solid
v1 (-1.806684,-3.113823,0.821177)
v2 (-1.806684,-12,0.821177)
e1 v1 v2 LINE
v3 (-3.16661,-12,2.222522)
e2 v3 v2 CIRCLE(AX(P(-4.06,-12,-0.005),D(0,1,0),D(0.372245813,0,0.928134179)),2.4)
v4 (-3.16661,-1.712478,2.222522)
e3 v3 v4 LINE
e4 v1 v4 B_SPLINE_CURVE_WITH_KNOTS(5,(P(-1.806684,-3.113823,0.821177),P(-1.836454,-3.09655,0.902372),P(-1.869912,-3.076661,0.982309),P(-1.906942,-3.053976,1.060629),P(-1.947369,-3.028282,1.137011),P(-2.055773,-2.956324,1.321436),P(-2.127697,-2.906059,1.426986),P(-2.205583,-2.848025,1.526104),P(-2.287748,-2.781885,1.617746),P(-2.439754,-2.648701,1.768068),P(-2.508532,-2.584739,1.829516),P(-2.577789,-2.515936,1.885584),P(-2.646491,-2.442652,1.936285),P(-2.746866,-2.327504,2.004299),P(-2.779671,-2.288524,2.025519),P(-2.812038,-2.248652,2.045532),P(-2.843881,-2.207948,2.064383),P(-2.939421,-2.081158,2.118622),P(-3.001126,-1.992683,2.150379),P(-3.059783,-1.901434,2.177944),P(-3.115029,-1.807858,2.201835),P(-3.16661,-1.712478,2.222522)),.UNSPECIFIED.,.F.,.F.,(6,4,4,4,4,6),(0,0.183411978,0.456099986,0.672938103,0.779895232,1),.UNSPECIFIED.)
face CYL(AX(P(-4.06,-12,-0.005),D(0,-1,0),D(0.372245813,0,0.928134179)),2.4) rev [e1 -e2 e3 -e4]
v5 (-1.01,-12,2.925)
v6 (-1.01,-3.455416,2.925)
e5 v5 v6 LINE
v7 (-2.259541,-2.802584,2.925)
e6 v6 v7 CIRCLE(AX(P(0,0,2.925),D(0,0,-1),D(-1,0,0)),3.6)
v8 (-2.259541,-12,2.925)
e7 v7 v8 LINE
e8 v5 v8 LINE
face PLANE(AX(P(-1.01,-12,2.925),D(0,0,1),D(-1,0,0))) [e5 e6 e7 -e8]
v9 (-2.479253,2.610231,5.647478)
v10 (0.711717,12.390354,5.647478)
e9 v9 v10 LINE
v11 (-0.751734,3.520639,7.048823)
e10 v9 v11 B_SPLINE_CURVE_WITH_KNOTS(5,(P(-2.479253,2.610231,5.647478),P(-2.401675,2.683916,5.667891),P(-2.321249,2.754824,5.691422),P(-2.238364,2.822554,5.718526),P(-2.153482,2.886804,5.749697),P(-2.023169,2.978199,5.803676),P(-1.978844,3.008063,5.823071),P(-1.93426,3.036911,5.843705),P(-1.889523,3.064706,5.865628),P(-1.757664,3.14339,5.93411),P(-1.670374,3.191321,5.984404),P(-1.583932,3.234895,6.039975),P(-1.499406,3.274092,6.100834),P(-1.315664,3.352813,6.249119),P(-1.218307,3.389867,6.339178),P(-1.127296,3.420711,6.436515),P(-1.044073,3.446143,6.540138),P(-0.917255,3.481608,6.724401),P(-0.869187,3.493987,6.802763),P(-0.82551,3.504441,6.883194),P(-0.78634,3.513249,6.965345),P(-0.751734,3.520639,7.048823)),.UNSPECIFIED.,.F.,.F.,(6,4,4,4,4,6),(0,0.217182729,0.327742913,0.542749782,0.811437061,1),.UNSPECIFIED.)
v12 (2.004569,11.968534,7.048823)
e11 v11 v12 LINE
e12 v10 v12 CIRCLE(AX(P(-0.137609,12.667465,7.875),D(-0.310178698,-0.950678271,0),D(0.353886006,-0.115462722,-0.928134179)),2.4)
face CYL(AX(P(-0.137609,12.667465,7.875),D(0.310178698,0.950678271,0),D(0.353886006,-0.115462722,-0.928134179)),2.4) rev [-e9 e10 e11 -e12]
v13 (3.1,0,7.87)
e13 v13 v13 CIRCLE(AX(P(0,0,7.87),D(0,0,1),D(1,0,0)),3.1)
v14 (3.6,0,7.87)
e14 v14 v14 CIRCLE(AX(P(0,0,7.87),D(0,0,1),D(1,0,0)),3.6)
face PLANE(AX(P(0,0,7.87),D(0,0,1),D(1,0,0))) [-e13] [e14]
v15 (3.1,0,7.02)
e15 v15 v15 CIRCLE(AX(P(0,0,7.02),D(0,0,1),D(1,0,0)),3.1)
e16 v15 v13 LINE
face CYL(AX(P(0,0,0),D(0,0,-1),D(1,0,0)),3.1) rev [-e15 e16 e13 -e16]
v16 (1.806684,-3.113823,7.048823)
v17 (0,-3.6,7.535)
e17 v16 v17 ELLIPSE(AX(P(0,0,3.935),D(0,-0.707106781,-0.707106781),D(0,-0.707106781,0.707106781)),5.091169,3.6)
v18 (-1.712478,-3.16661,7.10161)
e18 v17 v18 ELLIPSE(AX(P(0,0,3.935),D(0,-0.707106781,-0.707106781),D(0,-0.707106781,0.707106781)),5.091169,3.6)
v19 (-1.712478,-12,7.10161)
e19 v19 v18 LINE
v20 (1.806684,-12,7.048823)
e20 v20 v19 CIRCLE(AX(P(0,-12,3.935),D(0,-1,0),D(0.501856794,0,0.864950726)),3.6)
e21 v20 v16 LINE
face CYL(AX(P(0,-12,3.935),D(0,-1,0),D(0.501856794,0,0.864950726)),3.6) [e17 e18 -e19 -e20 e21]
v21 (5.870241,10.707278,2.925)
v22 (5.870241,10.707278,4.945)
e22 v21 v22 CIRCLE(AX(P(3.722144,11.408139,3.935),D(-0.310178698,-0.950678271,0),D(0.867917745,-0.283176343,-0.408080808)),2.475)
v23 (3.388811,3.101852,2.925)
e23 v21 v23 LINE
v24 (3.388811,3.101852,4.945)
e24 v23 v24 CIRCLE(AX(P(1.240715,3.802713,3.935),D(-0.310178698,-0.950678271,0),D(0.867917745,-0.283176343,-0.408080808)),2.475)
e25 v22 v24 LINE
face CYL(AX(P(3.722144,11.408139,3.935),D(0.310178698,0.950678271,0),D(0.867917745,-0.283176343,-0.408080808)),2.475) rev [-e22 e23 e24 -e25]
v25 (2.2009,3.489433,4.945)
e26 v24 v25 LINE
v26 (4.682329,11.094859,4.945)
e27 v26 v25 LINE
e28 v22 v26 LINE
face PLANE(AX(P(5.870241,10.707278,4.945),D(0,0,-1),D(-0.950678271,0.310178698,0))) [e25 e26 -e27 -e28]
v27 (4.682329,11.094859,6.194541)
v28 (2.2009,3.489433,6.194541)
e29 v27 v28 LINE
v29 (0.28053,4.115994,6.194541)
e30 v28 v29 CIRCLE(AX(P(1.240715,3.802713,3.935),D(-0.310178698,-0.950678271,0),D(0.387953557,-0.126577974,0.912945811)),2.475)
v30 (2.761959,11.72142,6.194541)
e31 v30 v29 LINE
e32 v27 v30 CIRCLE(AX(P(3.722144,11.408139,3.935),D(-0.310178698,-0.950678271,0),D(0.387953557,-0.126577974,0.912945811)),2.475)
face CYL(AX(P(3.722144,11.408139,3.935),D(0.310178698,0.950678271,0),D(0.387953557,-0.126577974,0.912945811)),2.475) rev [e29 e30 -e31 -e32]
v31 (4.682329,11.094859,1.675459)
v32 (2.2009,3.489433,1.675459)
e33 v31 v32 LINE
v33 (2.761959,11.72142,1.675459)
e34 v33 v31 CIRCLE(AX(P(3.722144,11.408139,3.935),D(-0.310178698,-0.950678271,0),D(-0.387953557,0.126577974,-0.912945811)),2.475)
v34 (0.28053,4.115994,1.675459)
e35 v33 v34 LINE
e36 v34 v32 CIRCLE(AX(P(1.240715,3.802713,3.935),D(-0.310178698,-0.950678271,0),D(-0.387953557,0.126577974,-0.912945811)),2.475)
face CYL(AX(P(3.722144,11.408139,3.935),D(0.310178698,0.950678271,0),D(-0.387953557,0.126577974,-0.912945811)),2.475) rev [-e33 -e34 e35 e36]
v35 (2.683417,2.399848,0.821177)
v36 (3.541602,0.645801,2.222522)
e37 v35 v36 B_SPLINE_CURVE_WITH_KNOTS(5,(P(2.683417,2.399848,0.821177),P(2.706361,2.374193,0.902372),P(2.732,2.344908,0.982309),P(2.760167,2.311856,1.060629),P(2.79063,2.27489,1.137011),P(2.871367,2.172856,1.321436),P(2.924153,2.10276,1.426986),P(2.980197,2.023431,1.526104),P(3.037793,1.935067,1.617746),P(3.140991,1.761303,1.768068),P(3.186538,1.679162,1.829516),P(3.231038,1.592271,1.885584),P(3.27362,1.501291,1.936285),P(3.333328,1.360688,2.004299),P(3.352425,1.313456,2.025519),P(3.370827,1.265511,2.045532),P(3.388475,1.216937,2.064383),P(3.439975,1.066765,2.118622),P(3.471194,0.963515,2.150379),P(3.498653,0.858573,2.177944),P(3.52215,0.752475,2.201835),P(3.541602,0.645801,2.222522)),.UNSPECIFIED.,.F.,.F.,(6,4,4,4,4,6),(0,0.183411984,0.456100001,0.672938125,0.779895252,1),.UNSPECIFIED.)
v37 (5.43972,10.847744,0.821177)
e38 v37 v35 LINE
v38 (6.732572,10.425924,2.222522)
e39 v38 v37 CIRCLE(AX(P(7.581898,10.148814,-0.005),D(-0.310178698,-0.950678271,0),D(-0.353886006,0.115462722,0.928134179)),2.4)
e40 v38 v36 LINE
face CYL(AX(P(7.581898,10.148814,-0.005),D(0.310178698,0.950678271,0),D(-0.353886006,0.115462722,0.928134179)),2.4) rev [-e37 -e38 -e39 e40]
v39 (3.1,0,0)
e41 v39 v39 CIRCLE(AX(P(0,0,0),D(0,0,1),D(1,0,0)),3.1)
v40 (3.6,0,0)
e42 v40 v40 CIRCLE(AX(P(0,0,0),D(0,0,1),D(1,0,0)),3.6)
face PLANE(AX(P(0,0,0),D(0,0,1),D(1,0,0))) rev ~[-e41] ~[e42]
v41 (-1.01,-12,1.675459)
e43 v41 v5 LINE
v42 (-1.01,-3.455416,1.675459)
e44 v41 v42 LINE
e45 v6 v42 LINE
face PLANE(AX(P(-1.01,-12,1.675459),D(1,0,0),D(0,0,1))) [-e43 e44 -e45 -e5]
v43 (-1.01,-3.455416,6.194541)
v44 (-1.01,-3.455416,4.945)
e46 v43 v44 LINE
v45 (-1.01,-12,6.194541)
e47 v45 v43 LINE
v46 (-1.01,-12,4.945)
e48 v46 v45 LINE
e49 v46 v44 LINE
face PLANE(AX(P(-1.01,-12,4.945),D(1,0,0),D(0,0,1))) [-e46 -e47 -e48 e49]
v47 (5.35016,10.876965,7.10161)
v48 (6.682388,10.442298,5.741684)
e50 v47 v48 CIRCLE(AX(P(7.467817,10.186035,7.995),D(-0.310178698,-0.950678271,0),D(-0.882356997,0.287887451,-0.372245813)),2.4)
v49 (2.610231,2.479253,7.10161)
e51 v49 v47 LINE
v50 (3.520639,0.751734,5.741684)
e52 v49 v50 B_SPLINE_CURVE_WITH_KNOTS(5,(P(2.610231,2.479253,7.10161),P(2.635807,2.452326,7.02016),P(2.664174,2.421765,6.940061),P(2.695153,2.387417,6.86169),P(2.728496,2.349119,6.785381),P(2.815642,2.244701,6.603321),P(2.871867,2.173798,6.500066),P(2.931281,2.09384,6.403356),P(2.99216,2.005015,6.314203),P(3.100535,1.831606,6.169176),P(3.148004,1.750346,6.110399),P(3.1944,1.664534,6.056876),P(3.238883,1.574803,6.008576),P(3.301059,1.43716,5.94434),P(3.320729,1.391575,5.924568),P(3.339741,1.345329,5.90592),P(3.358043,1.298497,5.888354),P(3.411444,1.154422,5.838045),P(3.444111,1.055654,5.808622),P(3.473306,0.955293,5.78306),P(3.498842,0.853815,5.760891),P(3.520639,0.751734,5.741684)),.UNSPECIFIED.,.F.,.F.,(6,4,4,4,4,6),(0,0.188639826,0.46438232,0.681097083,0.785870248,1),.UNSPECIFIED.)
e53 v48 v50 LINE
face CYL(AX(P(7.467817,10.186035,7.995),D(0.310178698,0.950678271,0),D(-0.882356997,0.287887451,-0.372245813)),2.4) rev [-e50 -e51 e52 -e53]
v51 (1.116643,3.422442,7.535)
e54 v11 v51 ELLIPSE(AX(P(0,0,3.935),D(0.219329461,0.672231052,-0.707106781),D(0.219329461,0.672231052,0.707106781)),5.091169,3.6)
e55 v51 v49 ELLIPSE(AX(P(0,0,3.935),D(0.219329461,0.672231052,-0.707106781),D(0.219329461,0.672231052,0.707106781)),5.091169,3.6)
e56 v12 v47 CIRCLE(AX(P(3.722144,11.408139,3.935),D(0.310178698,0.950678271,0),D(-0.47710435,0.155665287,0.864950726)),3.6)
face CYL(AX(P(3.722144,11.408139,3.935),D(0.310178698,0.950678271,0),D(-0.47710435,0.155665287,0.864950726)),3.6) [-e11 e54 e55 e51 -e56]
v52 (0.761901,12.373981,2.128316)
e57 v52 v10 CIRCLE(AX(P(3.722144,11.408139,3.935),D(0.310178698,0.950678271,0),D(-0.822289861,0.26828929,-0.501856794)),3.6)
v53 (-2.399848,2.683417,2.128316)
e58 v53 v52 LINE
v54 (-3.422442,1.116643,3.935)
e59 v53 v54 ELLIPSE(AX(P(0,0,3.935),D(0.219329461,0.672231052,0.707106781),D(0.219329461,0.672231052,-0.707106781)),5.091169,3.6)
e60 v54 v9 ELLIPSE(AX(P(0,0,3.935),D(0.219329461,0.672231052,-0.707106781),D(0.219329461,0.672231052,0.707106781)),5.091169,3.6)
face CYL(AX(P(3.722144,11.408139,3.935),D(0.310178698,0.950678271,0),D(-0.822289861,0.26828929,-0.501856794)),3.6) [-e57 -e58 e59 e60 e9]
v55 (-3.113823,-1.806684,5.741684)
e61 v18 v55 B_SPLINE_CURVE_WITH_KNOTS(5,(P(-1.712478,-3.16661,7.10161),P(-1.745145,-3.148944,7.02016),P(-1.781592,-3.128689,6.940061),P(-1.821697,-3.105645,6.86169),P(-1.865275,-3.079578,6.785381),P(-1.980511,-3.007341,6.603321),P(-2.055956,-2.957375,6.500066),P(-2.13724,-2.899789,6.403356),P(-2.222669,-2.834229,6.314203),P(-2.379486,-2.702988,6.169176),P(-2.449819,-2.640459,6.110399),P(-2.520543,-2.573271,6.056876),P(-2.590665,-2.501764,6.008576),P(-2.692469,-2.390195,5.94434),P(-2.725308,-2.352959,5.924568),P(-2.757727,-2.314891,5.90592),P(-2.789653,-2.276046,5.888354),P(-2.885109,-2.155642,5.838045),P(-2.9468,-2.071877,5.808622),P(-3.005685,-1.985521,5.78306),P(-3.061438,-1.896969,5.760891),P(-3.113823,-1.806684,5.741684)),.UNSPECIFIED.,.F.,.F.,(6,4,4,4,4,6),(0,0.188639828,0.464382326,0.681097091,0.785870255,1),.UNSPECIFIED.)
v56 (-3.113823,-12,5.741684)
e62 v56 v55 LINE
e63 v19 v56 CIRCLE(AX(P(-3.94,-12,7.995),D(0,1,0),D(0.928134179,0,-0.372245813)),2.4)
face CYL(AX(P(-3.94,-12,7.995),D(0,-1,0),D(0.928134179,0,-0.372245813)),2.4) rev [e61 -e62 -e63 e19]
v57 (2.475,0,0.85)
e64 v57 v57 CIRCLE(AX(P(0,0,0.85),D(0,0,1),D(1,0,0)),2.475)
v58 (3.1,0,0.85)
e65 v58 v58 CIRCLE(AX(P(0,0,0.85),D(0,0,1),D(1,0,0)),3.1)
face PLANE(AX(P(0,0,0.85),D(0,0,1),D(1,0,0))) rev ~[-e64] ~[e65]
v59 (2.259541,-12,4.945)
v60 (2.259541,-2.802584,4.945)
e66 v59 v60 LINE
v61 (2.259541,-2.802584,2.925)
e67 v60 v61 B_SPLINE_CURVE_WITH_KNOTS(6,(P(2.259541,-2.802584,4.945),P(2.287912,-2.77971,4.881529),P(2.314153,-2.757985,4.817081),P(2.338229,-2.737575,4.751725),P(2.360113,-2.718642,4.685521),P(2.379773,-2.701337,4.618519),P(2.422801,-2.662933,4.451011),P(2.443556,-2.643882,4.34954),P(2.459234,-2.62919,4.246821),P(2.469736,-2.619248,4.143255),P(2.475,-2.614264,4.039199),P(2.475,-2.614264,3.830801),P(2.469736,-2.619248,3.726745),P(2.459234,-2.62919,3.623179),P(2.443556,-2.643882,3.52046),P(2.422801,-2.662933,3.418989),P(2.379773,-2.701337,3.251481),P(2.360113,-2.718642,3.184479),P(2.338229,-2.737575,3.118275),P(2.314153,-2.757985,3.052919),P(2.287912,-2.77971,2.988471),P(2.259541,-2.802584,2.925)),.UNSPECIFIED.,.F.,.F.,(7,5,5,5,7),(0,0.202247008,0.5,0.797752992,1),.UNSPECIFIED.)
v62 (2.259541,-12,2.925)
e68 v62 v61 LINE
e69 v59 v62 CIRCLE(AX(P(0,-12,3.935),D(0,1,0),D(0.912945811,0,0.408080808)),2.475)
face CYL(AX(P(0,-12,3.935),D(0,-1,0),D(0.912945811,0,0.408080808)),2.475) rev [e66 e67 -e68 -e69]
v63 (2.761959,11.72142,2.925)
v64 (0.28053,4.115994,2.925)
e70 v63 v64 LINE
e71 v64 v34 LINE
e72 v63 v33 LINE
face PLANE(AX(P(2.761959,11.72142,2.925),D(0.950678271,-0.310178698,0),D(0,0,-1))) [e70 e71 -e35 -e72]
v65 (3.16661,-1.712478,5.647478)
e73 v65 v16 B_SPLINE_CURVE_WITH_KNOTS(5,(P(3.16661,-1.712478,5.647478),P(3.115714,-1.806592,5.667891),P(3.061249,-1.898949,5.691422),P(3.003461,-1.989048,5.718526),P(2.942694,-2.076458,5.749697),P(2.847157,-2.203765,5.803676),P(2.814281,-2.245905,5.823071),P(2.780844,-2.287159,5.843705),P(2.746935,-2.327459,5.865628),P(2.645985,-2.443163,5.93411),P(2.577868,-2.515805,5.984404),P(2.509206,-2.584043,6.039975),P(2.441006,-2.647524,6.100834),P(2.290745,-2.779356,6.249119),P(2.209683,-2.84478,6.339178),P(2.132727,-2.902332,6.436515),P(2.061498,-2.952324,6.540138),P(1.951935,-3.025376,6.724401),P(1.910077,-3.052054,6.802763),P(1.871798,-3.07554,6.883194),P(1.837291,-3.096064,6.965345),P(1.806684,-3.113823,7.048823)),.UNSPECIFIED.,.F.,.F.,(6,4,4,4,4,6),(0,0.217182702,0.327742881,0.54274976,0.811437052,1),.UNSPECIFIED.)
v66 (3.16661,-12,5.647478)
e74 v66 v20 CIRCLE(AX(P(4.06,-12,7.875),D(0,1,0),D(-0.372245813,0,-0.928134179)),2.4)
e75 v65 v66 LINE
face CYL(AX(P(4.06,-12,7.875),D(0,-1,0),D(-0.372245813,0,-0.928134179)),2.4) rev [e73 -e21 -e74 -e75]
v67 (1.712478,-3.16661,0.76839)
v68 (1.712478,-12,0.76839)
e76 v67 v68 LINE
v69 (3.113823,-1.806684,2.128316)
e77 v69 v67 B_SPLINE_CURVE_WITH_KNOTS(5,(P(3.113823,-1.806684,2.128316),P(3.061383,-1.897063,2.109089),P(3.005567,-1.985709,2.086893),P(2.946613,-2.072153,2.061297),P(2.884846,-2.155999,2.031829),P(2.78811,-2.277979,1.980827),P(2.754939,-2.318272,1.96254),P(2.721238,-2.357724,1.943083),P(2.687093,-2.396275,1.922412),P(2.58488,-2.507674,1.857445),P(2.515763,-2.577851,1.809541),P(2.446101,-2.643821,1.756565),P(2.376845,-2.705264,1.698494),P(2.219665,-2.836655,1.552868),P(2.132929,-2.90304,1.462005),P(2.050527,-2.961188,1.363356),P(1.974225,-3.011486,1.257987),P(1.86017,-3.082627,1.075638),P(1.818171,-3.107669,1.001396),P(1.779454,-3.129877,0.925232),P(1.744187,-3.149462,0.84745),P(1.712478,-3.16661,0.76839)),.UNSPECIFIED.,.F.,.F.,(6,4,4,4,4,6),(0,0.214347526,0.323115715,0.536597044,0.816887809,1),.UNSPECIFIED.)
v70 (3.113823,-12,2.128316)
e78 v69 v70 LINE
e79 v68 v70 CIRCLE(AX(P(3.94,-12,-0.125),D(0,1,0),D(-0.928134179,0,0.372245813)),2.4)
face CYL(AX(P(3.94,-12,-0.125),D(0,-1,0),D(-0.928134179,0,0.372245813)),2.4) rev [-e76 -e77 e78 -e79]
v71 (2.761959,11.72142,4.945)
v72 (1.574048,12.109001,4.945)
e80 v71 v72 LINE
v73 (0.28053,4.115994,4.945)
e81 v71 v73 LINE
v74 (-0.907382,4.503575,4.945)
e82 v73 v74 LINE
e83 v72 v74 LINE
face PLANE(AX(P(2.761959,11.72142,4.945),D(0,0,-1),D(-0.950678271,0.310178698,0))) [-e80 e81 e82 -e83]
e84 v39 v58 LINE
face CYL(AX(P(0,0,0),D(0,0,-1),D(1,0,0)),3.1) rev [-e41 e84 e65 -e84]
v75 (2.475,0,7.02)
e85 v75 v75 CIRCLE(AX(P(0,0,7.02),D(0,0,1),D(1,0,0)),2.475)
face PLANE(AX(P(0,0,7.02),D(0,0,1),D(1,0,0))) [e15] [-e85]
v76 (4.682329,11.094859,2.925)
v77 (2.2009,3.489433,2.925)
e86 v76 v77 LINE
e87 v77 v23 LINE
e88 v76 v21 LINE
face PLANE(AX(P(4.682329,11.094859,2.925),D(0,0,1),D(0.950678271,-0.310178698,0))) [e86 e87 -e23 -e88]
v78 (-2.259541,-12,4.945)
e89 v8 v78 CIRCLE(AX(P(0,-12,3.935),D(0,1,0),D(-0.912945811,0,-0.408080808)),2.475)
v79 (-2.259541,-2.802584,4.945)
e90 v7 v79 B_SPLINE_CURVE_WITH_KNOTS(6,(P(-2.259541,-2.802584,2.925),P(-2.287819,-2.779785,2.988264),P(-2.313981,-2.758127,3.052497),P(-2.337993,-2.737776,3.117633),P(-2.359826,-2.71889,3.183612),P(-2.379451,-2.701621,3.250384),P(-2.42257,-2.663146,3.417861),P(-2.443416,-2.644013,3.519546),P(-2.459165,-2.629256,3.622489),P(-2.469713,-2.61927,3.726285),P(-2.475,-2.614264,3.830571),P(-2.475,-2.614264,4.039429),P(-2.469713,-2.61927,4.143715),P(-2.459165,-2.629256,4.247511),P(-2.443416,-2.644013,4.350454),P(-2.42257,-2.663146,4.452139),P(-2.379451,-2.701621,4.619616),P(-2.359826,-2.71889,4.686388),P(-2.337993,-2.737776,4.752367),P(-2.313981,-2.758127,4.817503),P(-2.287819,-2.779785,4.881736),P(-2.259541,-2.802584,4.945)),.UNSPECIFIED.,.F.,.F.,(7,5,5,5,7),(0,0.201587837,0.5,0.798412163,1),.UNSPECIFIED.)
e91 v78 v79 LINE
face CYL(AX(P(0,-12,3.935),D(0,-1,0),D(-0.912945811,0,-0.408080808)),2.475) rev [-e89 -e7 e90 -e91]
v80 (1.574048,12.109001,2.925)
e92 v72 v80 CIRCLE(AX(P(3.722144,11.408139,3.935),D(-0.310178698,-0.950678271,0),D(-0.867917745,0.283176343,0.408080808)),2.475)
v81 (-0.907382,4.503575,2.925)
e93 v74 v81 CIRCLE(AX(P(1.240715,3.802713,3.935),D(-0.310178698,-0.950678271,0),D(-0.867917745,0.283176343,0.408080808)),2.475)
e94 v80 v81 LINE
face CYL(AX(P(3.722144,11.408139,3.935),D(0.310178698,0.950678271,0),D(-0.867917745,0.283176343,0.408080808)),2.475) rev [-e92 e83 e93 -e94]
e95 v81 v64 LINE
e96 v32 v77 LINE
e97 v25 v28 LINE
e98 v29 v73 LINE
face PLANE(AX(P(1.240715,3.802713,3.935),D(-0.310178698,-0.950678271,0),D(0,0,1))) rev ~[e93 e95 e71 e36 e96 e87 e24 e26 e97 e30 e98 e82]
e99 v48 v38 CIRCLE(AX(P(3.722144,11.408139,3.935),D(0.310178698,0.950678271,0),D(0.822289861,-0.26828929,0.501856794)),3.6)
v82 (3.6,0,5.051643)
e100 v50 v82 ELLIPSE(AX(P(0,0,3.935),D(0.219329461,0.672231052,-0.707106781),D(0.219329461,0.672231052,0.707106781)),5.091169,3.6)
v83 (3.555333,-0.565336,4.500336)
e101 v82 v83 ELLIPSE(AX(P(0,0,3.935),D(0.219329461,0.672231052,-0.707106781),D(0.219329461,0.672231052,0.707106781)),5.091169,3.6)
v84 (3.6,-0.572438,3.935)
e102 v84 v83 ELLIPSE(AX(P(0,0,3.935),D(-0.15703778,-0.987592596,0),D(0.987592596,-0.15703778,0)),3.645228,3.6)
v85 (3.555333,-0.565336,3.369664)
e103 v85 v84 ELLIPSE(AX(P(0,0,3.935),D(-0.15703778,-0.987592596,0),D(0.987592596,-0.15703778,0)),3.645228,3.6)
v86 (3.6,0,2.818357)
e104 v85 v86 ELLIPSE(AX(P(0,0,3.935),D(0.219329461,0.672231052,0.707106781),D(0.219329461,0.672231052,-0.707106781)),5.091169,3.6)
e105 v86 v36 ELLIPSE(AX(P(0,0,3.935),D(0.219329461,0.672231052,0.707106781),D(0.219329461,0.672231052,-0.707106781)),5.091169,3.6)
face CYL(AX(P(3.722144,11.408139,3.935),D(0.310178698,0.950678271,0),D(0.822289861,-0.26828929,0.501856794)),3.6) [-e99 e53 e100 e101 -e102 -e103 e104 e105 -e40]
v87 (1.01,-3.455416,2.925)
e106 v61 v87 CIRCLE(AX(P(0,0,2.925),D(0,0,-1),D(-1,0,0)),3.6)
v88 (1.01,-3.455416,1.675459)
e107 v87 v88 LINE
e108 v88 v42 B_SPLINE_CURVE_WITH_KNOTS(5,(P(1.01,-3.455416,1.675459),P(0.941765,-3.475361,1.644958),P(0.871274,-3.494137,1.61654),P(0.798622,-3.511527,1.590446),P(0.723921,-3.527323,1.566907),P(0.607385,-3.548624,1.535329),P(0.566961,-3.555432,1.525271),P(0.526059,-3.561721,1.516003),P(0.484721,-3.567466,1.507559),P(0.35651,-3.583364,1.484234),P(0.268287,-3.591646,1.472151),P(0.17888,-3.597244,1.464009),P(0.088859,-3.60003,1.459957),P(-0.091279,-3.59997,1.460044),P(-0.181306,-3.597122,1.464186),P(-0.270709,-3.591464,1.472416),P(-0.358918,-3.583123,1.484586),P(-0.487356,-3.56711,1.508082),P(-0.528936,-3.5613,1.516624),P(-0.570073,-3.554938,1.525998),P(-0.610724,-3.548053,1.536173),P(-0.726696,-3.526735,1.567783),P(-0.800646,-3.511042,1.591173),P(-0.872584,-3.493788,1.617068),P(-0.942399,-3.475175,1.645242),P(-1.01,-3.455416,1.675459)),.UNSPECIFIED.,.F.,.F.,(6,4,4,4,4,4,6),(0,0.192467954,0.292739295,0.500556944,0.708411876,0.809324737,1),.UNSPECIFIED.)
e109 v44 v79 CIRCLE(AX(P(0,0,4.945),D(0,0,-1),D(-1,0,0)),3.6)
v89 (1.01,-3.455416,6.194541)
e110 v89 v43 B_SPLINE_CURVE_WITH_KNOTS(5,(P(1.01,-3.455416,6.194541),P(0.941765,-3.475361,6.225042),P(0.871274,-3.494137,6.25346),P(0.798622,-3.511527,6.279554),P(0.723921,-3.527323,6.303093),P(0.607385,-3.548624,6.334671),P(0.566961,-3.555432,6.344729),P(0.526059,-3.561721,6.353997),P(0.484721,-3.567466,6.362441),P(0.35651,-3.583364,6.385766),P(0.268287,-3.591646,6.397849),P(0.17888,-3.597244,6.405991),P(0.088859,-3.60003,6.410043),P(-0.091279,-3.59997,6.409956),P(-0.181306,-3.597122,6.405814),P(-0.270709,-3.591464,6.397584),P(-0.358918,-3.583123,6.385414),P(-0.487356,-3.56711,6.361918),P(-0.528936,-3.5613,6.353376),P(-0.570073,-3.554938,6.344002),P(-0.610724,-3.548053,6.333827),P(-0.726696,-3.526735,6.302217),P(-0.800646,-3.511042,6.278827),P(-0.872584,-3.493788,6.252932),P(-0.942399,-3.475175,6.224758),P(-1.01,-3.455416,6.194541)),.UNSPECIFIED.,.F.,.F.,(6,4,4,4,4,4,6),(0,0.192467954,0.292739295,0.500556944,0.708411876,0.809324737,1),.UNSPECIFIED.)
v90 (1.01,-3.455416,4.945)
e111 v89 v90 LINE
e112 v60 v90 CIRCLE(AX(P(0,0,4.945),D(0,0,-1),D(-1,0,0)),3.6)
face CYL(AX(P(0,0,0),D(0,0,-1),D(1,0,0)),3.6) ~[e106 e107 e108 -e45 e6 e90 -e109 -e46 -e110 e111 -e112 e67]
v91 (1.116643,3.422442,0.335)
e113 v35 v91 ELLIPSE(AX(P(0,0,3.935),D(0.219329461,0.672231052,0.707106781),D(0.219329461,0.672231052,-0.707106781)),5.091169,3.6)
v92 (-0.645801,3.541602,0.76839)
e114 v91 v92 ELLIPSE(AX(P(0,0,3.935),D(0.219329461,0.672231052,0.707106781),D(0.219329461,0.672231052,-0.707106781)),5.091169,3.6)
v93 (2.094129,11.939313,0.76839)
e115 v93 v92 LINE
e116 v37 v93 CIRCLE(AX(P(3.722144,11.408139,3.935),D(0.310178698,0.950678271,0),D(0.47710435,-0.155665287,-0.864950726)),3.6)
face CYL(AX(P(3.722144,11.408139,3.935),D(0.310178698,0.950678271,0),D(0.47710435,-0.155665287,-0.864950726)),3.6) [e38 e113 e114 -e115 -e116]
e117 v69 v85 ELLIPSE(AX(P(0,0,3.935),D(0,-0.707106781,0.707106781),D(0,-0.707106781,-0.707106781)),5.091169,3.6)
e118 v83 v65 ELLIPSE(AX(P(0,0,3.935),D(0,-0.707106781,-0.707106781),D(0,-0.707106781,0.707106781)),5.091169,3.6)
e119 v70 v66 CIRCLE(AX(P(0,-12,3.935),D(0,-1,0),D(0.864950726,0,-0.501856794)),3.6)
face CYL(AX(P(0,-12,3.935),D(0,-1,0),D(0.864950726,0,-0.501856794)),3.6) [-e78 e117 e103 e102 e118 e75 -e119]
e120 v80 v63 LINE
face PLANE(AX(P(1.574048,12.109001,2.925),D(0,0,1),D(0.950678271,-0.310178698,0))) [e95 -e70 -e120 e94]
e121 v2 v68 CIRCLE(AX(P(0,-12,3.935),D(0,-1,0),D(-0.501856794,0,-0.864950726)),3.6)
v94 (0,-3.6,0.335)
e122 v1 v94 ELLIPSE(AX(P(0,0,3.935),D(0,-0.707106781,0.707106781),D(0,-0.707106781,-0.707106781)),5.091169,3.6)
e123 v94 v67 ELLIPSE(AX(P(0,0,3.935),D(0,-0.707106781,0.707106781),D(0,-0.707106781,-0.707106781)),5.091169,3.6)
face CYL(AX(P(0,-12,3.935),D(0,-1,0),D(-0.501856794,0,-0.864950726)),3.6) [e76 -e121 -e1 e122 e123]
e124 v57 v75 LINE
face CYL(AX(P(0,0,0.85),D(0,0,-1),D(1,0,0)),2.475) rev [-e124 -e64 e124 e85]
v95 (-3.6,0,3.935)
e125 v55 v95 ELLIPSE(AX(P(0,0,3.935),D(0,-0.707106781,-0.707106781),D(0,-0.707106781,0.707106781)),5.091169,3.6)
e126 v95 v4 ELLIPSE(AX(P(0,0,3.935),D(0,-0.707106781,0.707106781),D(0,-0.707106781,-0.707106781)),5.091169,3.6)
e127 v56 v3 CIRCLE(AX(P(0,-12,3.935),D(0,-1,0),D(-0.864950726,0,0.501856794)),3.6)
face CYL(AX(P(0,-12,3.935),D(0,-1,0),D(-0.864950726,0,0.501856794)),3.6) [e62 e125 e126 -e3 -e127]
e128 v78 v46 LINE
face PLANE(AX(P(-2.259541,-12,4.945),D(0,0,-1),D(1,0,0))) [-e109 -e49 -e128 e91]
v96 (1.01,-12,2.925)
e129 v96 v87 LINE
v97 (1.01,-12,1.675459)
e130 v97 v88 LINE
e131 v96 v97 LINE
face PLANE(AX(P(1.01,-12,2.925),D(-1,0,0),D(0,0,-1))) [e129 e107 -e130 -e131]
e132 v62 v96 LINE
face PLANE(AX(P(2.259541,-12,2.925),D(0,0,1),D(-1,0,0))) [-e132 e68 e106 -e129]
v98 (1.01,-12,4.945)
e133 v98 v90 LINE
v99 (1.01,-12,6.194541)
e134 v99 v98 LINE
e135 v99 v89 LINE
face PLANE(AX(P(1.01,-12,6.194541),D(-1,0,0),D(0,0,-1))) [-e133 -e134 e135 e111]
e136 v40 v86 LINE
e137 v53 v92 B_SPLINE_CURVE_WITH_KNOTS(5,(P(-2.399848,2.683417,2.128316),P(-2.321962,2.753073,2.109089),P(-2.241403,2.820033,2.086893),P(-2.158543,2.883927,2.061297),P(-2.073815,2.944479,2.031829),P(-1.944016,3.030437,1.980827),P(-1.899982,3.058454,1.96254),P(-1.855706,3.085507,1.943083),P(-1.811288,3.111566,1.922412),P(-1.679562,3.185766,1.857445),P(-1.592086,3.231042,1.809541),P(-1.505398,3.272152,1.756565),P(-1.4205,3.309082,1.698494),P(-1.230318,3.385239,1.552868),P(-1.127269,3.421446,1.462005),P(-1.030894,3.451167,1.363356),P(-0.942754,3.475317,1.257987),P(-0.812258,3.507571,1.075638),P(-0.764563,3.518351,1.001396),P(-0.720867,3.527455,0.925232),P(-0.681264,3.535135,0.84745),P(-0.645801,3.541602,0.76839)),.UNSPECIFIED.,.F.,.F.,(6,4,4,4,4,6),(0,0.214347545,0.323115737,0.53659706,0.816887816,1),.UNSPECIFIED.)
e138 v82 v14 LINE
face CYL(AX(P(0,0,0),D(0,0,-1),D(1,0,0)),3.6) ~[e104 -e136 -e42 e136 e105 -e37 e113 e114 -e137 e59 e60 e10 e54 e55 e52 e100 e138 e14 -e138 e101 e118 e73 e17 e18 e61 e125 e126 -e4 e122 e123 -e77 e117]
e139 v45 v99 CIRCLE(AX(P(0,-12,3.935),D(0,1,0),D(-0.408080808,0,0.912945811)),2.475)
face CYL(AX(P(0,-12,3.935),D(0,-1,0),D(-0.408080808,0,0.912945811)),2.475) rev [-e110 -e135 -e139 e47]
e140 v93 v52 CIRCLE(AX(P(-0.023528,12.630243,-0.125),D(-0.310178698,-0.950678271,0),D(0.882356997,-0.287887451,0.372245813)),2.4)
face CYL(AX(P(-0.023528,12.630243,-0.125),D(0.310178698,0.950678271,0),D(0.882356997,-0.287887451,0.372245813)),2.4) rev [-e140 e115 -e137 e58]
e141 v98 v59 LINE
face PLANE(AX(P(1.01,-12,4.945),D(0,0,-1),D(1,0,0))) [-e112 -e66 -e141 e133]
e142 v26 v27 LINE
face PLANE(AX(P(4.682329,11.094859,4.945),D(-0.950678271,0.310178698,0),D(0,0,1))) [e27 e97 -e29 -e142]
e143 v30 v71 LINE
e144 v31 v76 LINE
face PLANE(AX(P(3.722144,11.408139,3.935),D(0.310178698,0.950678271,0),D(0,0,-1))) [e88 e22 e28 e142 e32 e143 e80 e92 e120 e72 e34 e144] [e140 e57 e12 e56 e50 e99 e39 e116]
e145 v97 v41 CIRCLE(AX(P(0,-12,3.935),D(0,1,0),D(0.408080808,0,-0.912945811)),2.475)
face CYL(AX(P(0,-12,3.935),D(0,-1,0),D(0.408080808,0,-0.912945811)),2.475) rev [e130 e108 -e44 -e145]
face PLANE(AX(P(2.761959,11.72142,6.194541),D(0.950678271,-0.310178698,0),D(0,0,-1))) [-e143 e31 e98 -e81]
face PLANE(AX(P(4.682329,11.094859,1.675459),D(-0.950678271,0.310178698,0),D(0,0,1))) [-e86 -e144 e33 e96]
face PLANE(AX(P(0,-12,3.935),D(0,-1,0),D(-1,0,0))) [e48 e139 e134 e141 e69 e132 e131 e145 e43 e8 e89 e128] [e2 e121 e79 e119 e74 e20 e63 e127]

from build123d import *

# Parameters (mm, degrees)
CROQUIS1_R                   = 3.6
CROQUIS1_R_2                 = 3.1
SALIENTE_EXTRUIR1_DEPTH      = 7.87
SALIENTE_EXTRUIR2_START      = 0.85
CROQUIS1_3_R                 = 3.1
CROQUIS1_3_R_2               = 2.475
SALIENTE_EXTRUIR2_DEPTH      = 6.17
SALIENTE_EXTRUIR3_REACH      = 13.518
SALIENTE_EXTRUIR3_END_RADIUS = 3.6
SALIENTE_EXTRUIR4_START      = -8
SALIENTE_EXTRUIR4_DEPTH      = 8
SALIENTE_EXTRUIR5_REACH      = 20.306
SALIENTE_EXTRUIR5_END_RADIUS = 3.6
SALIENTE_EXTRUIR6_START      = -8
SALIENTE_EXTRUIR6_DEPTH      = 8


with BuildPart() as part:
    # Croquis1 → Saliente-Extruir1 (new body)
    with BuildSketch(Plane.XY):
        Circle(CROQUIS1_R)
        Circle(CROQUIS1_R_2, mode=Mode.SUBTRACT)
    extrude(amount=SALIENTE_EXTRUIR1_DEPTH)

    # Croquis1<3> → Saliente-Extruir2 (add)
    with BuildSketch(Plane.XY.offset(SALIENTE_EXTRUIR2_START)):
        Circle(CROQUIS1_3_R)
        Circle(CROQUIS1_3_R_2, mode=Mode.SUBTRACT)
    extrude(amount=SALIENTE_EXTRUIR2_DEPTH)

    # Saliente-Extruir3: up to this cylinder (the profile starts outside it)
    saliente_extruir3_end = Plane(origin=(0, 0, 6.19961), z_dir=(0, 0, -1)) * Cylinder(SALIENTE_EXTRUIR3_END_RADIUS, 35.236000000000004, mode=Mode.PRIVATE)
    # Croquis2 → Saliente-Extruir3 (add, up to the surface)
    with BuildSketch(Plane(origin=(0, -4, 0), x_dir=(1, 0, 0), z_dir=(0, 1, 0)), mode=Mode.PRIVATE) as saliente_extruir3_sk1:
        with BuildLine():
            ThreePointArc((-1.7124779696357202, -7.101610049171246), (0.05399392602494436, -7.534595068330939), (1.806684459564255, -7.048822612733265))
            ThreePointArc((1.806684459564255, -7.048822612733265), (2.337681630948243, -6.203587592595142), (3.1666100491712275, -5.647477969635754))
            ThreePointArc((3.1666100491712275, -5.647477969635754), (3.599595068330938, -3.881006073975069), (3.1138226127332604, -2.1283155404357355))
            ThreePointArc((3.1138226127332604, -2.1283155404357355), (2.268587592595135, -1.597318369051751), (1.7124779696357444, -0.7683899508287686))
            ThreePointArc((1.7124779696357444, -0.7683899508287686), (-0.0539939260249431, -0.3354049316690628), (-1.806684459564274, -0.8211773872667488))
            ThreePointArc((-1.806684459564274, -0.8211773872667488), (-2.337681630948256, -1.6664124074048765), (-3.166610049171237, -2.22252203036427))
            ThreePointArc((-3.166610049171237, -2.22252203036427), (-3.599595068330935, -3.9889939260249565), (-3.1138226127332462, -5.741684459564288))
            ThreePointArc((-3.1138226127332462, -5.741684459564288), (-2.268587592595116, -6.272681630948267), (-1.7124779696357202, -7.101610049171246))
        make_face()
        with BuildLine():
            Line((-1.01, -6.194540882568846), (-1.01, -4.944999999999999))
            Line((-1.01, -4.944999999999999), (-2.2595408825688463, -4.944999999999999))
            ThreePointArc((-2.2595408825688463, -4.944999999999999), (-2.475, -3.9349999999999996), (-2.2595408825688463, -2.9250000000000007))
            Line((-2.2595408825688463, -2.9250000000000007), (-1.01, -2.9250000000000007))
            Line((-1.01, -2.9250000000000007), (-1.01, -1.675459117431154))
            ThreePointArc((-1.01, -1.675459117431154), (1.5e-16, -1.4600000000000004), (1.01, -1.675459117431154))
            Line((1.01, -1.675459117431154), (1.01, -2.9250000000000007))
            Line((1.01, -2.9250000000000007), (2.2595408825688463, -2.9250000000000007))
            ThreePointArc((2.2595408825688463, -2.9250000000000007), (2.475, -3.935), (2.2595408825688463, -4.944999999999999))
            Line((2.2595408825688463, -4.944999999999999), (1.01, -4.944999999999999))
            Line((1.01, -4.944999999999999), (1.01, -6.194540882568846))
            ThreePointArc((1.01, -6.194540882568846), (1.5e-16, -6.41), (-1.01, -6.194540882568846))
        make_face(mode=Mode.SUBTRACT)
    saliente_extruir3_tool1 = extrude(saliente_extruir3_sk1.sketch, amount=SALIENTE_EXTRUIR3_REACH, mode=Mode.PRIVATE) - saliente_extruir3_end
    add(saliente_extruir3_tool1.solids().sort_by_distance((-2.197676, -4, 6.19961))[0])

    # Croquis2<3> → Saliente-Extruir4 (add)
    with BuildSketch(Plane(origin=(0, -4, 0), x_dir=(1, 0, 0), z_dir=(0, 1, 0)).offset(SALIENTE_EXTRUIR4_START)):
        with BuildLine():
            ThreePointArc((-3.166610049171237, -2.22252203036427), (-2.337681630948256, -1.6664124074048765), (-1.806684459564274, -0.8211773872667488))
            ThreePointArc((-1.806684459564274, -0.8211773872667488), (-0.0539939260249431, -0.3354049316690628), (1.7124779696357444, -0.7683899508287686))
            ThreePointArc((1.7124779696357444, -0.7683899508287686), (2.268587592595135, -1.597318369051751), (3.1138226127332604, -2.1283155404357355))
            ThreePointArc((3.1138226127332604, -2.1283155404357355), (3.599595068330938, -3.881006073975069), (3.1666100491712275, -5.647477969635754))
            ThreePointArc((3.1666100491712275, -5.647477969635754), (2.337681630948243, -6.203587592595142), (1.806684459564255, -7.048822612733265))
            ThreePointArc((1.806684459564255, -7.048822612733265), (0.05399392602494436, -7.534595068330939), (-1.7124779696357202, -7.101610049171246))
            ThreePointArc((-1.7124779696357202, -7.101610049171246), (-2.268587592595116, -6.272681630948267), (-3.1138226127332462, -5.741684459564288))
            ThreePointArc((-3.1138226127332462, -5.741684459564288), (-3.599595068330935, -3.9889939260249565), (-3.166610049171237, -2.22252203036427))
        make_face()
        with BuildLine():
            ThreePointArc((-2.2595408825688463, -2.9250000000000007), (-2.475, -3.9349999999999996), (-2.2595408825688463, -4.944999999999999))
            Line((-2.2595408825688463, -4.944999999999999), (-1.01, -4.944999999999999))
            Line((-1.01, -4.944999999999999), (-1.01, -6.194540882568846))
            ThreePointArc((-1.01, -6.194540882568846), (1.5e-16, -6.41), (1.01, -6.194540882568846))
            Line((1.01, -6.194540882568846), (1.01, -4.944999999999999))
            Line((1.01, -4.944999999999999), (2.2595408825688463, -4.944999999999999))
            ThreePointArc((2.2595408825688463, -4.944999999999999), (2.475, -3.935), (2.2595408825688463, -2.9250000000000007))
            Line((2.2595408825688463, -2.9250000000000007), (1.01, -2.9250000000000007))
            Line((1.01, -2.9250000000000007), (1.01, -1.675459117431154))
            ThreePointArc((1.01, -1.675459117431154), (1.5e-16, -1.4600000000000004), (-1.01, -1.675459117431154))
            Line((-1.01, -1.675459117431154), (-1.01, -2.9250000000000007))
            Line((-1.01, -2.9250000000000007), (-2.2595408825688463, -2.9250000000000007))
        make_face(mode=Mode.SUBTRACT)
    extrude(amount=SALIENTE_EXTRUIR4_DEPTH)

    # Saliente-Extruir5: up to this cylinder (the profile starts outside it)
    saliente_extruir5_end = Plane(origin=(0, 0, 3.935), z_dir=(0, 0, -1)) * Cylinder(SALIENTE_EXTRUIR5_END_RADIUS, 48.812000000000005, mode=Mode.PRIVATE)
    # Croquis7 → Saliente-Extruir5 (add, up to the surface)
    with BuildSketch(Plane(origin=(1.2407147927733873, 3.8027130844955015, 0), x_dir=(0, 0, 1), z_dir=(-0.31017869819334676, -0.9506782711238754, 0)), mode=Mode.PRIVATE) as saliente_extruir5_sk1:
        with BuildLine():
            ThreePointArc((2.222522030364279, -3.1666100491712452), (3.9889939260249445, -3.5995950683309377), (5.741684459564254, -3.113822612733264))
            ThreePointArc((5.741684459564254, -3.113822612733264), (6.272681630948287, -2.2685875925951686), (7.101610049171227, -1.7124779696357533))
            ThreePointArc((7.101610049171227, -1.7124779696357533), (7.534595068330938, 0.0539939260249318), (7.048822612733259, 1.8066844595642648))
            ThreePointArc((7.048822612733259, 1.8066844595642648), (6.203587592595132, 2.337681630948248), (5.647477969635745, 3.1666100491712332))
            ThreePointArc((5.647477969635745, 3.1666100491712332), (3.881006073975058, 3.599595068330939), (2.1283155404357252, 3.113822612733254))
            ThreePointArc((2.1283155404357252, 3.113822612733254), (1.5973183690517558, 2.268587592595114), (0.7683899508287607, 1.7124779696357326))
            ThreePointArc((0.7683899508287607, 1.7124779696357326), (0.33540493166906193, -0.05399392602495561), (0.8211773872667536, -1.8066844595642866))
            ThreePointArc((0.8211773872667536, -1.8066844595642866), (1.6664124074048823, -2.337681630948267), (2.222522030364279, -3.1666100491712452))
        make_face()
    saliente_extruir5_tool1 = extrude(saliente_extruir5_sk1.sketch, amount=SALIENTE_EXTRUIR5_REACH, mode=Mode.PRIVATE) - saliente_extruir5_end
    add(saliente_extruir5_tool1.solids().sort_by_distance((1.240715, 3.802713, 3.935))[0])

    # Croquis7<3> → Saliente-Extruir6 (add)
    with BuildSketch(Plane(origin=(1.2407147927733873, 3.8027130844955015, 0), x_dir=(0, 0, 1), z_dir=(-0.31017869819334676, -0.9506782711238754, 0)).offset(SALIENTE_EXTRUIR6_START)):
        with BuildLine():
            ThreePointArc((0.7683899508287607, 1.7124779696357326), (1.5973183690517558, 2.268587592595114), (2.1283155404357252, 3.113822612733254))
            ThreePointArc((2.1283155404357252, 3.113822612733254), (3.881006073975058, 3.599595068330939), (5.647477969635745, 3.1666100491712332))
            ThreePointArc((5.647477969635745, 3.1666100491712332), (6.203587592595132, 2.337681630948248), (7.048822612733259, 1.8066844595642648))
            ThreePointArc((7.048822612733259, 1.8066844595642648), (7.534595068330938, 0.0539939260249318), (7.101610049171227, -1.7124779696357533))
            ThreePointArc((7.101610049171227, -1.7124779696357533), (6.272681630948287, -2.2685875925951686), (5.741684459564254, -3.113822612733264))
            ThreePointArc((5.741684459564254, -3.113822612733264), (3.9889939260249445, -3.5995950683309377), (2.222522030364279, -3.1666100491712452))
            ThreePointArc((2.222522030364279, -3.1666100491712452), (1.6664124074048823, -2.337681630948267), (0.8211773872667536, -1.8066844595642866))
            ThreePointArc((0.8211773872667536, -1.8066844595642866), (0.33540493166906193, -0.05399392602495561), (0.7683899508287607, 1.7124779696357326))
        make_face()
        with BuildLine():
            ThreePointArc((1.675459117431154, 1.010000000000001), (1.4600000000000004, 1.17e-15), (1.675459117431154, -1.0099999999999991))
            Line((1.675459117431154, -1.0099999999999991), (2.925, -1.0099999999999991))
            Line((2.925, -1.0099999999999991), (2.925, -2.2595408825688454))
            ThreePointArc((2.925, -2.2595408825688454), (3.934999999999999, -2.474999999999999), (4.944999999999999, -2.259540882568846))
            Line((4.944999999999999, -2.259540882568846), (4.944999999999999, -1.009999999999999))
            Line((4.944999999999999, -1.009999999999999), (6.194540882568846, -1.0099999999999987))
            ThreePointArc((6.194540882568846, -1.0099999999999987), (6.41, 1e-15), (6.194540882568846, 1.010000000000001))
            Line((6.194540882568846, 1.010000000000001), (4.944999999999999, 1.010000000000001))
            Line((4.944999999999999, 1.010000000000001), (4.944999999999999, 2.259540882568847))
            ThreePointArc((4.944999999999999, 2.259540882568847), (3.9349999999999996, 2.475000000000001), (2.925, 2.2595408825688468))
            Line((2.925, 2.2595408825688468), (2.925, 1.010000000000001))
            Line((2.925, 1.010000000000001), (1.675459117431154, 1.010000000000001))
        make_face(mode=Mode.SUBTRACT)
    extrude(amount=SALIENTE_EXTRUIR6_DEPTH)


solid = part.part
